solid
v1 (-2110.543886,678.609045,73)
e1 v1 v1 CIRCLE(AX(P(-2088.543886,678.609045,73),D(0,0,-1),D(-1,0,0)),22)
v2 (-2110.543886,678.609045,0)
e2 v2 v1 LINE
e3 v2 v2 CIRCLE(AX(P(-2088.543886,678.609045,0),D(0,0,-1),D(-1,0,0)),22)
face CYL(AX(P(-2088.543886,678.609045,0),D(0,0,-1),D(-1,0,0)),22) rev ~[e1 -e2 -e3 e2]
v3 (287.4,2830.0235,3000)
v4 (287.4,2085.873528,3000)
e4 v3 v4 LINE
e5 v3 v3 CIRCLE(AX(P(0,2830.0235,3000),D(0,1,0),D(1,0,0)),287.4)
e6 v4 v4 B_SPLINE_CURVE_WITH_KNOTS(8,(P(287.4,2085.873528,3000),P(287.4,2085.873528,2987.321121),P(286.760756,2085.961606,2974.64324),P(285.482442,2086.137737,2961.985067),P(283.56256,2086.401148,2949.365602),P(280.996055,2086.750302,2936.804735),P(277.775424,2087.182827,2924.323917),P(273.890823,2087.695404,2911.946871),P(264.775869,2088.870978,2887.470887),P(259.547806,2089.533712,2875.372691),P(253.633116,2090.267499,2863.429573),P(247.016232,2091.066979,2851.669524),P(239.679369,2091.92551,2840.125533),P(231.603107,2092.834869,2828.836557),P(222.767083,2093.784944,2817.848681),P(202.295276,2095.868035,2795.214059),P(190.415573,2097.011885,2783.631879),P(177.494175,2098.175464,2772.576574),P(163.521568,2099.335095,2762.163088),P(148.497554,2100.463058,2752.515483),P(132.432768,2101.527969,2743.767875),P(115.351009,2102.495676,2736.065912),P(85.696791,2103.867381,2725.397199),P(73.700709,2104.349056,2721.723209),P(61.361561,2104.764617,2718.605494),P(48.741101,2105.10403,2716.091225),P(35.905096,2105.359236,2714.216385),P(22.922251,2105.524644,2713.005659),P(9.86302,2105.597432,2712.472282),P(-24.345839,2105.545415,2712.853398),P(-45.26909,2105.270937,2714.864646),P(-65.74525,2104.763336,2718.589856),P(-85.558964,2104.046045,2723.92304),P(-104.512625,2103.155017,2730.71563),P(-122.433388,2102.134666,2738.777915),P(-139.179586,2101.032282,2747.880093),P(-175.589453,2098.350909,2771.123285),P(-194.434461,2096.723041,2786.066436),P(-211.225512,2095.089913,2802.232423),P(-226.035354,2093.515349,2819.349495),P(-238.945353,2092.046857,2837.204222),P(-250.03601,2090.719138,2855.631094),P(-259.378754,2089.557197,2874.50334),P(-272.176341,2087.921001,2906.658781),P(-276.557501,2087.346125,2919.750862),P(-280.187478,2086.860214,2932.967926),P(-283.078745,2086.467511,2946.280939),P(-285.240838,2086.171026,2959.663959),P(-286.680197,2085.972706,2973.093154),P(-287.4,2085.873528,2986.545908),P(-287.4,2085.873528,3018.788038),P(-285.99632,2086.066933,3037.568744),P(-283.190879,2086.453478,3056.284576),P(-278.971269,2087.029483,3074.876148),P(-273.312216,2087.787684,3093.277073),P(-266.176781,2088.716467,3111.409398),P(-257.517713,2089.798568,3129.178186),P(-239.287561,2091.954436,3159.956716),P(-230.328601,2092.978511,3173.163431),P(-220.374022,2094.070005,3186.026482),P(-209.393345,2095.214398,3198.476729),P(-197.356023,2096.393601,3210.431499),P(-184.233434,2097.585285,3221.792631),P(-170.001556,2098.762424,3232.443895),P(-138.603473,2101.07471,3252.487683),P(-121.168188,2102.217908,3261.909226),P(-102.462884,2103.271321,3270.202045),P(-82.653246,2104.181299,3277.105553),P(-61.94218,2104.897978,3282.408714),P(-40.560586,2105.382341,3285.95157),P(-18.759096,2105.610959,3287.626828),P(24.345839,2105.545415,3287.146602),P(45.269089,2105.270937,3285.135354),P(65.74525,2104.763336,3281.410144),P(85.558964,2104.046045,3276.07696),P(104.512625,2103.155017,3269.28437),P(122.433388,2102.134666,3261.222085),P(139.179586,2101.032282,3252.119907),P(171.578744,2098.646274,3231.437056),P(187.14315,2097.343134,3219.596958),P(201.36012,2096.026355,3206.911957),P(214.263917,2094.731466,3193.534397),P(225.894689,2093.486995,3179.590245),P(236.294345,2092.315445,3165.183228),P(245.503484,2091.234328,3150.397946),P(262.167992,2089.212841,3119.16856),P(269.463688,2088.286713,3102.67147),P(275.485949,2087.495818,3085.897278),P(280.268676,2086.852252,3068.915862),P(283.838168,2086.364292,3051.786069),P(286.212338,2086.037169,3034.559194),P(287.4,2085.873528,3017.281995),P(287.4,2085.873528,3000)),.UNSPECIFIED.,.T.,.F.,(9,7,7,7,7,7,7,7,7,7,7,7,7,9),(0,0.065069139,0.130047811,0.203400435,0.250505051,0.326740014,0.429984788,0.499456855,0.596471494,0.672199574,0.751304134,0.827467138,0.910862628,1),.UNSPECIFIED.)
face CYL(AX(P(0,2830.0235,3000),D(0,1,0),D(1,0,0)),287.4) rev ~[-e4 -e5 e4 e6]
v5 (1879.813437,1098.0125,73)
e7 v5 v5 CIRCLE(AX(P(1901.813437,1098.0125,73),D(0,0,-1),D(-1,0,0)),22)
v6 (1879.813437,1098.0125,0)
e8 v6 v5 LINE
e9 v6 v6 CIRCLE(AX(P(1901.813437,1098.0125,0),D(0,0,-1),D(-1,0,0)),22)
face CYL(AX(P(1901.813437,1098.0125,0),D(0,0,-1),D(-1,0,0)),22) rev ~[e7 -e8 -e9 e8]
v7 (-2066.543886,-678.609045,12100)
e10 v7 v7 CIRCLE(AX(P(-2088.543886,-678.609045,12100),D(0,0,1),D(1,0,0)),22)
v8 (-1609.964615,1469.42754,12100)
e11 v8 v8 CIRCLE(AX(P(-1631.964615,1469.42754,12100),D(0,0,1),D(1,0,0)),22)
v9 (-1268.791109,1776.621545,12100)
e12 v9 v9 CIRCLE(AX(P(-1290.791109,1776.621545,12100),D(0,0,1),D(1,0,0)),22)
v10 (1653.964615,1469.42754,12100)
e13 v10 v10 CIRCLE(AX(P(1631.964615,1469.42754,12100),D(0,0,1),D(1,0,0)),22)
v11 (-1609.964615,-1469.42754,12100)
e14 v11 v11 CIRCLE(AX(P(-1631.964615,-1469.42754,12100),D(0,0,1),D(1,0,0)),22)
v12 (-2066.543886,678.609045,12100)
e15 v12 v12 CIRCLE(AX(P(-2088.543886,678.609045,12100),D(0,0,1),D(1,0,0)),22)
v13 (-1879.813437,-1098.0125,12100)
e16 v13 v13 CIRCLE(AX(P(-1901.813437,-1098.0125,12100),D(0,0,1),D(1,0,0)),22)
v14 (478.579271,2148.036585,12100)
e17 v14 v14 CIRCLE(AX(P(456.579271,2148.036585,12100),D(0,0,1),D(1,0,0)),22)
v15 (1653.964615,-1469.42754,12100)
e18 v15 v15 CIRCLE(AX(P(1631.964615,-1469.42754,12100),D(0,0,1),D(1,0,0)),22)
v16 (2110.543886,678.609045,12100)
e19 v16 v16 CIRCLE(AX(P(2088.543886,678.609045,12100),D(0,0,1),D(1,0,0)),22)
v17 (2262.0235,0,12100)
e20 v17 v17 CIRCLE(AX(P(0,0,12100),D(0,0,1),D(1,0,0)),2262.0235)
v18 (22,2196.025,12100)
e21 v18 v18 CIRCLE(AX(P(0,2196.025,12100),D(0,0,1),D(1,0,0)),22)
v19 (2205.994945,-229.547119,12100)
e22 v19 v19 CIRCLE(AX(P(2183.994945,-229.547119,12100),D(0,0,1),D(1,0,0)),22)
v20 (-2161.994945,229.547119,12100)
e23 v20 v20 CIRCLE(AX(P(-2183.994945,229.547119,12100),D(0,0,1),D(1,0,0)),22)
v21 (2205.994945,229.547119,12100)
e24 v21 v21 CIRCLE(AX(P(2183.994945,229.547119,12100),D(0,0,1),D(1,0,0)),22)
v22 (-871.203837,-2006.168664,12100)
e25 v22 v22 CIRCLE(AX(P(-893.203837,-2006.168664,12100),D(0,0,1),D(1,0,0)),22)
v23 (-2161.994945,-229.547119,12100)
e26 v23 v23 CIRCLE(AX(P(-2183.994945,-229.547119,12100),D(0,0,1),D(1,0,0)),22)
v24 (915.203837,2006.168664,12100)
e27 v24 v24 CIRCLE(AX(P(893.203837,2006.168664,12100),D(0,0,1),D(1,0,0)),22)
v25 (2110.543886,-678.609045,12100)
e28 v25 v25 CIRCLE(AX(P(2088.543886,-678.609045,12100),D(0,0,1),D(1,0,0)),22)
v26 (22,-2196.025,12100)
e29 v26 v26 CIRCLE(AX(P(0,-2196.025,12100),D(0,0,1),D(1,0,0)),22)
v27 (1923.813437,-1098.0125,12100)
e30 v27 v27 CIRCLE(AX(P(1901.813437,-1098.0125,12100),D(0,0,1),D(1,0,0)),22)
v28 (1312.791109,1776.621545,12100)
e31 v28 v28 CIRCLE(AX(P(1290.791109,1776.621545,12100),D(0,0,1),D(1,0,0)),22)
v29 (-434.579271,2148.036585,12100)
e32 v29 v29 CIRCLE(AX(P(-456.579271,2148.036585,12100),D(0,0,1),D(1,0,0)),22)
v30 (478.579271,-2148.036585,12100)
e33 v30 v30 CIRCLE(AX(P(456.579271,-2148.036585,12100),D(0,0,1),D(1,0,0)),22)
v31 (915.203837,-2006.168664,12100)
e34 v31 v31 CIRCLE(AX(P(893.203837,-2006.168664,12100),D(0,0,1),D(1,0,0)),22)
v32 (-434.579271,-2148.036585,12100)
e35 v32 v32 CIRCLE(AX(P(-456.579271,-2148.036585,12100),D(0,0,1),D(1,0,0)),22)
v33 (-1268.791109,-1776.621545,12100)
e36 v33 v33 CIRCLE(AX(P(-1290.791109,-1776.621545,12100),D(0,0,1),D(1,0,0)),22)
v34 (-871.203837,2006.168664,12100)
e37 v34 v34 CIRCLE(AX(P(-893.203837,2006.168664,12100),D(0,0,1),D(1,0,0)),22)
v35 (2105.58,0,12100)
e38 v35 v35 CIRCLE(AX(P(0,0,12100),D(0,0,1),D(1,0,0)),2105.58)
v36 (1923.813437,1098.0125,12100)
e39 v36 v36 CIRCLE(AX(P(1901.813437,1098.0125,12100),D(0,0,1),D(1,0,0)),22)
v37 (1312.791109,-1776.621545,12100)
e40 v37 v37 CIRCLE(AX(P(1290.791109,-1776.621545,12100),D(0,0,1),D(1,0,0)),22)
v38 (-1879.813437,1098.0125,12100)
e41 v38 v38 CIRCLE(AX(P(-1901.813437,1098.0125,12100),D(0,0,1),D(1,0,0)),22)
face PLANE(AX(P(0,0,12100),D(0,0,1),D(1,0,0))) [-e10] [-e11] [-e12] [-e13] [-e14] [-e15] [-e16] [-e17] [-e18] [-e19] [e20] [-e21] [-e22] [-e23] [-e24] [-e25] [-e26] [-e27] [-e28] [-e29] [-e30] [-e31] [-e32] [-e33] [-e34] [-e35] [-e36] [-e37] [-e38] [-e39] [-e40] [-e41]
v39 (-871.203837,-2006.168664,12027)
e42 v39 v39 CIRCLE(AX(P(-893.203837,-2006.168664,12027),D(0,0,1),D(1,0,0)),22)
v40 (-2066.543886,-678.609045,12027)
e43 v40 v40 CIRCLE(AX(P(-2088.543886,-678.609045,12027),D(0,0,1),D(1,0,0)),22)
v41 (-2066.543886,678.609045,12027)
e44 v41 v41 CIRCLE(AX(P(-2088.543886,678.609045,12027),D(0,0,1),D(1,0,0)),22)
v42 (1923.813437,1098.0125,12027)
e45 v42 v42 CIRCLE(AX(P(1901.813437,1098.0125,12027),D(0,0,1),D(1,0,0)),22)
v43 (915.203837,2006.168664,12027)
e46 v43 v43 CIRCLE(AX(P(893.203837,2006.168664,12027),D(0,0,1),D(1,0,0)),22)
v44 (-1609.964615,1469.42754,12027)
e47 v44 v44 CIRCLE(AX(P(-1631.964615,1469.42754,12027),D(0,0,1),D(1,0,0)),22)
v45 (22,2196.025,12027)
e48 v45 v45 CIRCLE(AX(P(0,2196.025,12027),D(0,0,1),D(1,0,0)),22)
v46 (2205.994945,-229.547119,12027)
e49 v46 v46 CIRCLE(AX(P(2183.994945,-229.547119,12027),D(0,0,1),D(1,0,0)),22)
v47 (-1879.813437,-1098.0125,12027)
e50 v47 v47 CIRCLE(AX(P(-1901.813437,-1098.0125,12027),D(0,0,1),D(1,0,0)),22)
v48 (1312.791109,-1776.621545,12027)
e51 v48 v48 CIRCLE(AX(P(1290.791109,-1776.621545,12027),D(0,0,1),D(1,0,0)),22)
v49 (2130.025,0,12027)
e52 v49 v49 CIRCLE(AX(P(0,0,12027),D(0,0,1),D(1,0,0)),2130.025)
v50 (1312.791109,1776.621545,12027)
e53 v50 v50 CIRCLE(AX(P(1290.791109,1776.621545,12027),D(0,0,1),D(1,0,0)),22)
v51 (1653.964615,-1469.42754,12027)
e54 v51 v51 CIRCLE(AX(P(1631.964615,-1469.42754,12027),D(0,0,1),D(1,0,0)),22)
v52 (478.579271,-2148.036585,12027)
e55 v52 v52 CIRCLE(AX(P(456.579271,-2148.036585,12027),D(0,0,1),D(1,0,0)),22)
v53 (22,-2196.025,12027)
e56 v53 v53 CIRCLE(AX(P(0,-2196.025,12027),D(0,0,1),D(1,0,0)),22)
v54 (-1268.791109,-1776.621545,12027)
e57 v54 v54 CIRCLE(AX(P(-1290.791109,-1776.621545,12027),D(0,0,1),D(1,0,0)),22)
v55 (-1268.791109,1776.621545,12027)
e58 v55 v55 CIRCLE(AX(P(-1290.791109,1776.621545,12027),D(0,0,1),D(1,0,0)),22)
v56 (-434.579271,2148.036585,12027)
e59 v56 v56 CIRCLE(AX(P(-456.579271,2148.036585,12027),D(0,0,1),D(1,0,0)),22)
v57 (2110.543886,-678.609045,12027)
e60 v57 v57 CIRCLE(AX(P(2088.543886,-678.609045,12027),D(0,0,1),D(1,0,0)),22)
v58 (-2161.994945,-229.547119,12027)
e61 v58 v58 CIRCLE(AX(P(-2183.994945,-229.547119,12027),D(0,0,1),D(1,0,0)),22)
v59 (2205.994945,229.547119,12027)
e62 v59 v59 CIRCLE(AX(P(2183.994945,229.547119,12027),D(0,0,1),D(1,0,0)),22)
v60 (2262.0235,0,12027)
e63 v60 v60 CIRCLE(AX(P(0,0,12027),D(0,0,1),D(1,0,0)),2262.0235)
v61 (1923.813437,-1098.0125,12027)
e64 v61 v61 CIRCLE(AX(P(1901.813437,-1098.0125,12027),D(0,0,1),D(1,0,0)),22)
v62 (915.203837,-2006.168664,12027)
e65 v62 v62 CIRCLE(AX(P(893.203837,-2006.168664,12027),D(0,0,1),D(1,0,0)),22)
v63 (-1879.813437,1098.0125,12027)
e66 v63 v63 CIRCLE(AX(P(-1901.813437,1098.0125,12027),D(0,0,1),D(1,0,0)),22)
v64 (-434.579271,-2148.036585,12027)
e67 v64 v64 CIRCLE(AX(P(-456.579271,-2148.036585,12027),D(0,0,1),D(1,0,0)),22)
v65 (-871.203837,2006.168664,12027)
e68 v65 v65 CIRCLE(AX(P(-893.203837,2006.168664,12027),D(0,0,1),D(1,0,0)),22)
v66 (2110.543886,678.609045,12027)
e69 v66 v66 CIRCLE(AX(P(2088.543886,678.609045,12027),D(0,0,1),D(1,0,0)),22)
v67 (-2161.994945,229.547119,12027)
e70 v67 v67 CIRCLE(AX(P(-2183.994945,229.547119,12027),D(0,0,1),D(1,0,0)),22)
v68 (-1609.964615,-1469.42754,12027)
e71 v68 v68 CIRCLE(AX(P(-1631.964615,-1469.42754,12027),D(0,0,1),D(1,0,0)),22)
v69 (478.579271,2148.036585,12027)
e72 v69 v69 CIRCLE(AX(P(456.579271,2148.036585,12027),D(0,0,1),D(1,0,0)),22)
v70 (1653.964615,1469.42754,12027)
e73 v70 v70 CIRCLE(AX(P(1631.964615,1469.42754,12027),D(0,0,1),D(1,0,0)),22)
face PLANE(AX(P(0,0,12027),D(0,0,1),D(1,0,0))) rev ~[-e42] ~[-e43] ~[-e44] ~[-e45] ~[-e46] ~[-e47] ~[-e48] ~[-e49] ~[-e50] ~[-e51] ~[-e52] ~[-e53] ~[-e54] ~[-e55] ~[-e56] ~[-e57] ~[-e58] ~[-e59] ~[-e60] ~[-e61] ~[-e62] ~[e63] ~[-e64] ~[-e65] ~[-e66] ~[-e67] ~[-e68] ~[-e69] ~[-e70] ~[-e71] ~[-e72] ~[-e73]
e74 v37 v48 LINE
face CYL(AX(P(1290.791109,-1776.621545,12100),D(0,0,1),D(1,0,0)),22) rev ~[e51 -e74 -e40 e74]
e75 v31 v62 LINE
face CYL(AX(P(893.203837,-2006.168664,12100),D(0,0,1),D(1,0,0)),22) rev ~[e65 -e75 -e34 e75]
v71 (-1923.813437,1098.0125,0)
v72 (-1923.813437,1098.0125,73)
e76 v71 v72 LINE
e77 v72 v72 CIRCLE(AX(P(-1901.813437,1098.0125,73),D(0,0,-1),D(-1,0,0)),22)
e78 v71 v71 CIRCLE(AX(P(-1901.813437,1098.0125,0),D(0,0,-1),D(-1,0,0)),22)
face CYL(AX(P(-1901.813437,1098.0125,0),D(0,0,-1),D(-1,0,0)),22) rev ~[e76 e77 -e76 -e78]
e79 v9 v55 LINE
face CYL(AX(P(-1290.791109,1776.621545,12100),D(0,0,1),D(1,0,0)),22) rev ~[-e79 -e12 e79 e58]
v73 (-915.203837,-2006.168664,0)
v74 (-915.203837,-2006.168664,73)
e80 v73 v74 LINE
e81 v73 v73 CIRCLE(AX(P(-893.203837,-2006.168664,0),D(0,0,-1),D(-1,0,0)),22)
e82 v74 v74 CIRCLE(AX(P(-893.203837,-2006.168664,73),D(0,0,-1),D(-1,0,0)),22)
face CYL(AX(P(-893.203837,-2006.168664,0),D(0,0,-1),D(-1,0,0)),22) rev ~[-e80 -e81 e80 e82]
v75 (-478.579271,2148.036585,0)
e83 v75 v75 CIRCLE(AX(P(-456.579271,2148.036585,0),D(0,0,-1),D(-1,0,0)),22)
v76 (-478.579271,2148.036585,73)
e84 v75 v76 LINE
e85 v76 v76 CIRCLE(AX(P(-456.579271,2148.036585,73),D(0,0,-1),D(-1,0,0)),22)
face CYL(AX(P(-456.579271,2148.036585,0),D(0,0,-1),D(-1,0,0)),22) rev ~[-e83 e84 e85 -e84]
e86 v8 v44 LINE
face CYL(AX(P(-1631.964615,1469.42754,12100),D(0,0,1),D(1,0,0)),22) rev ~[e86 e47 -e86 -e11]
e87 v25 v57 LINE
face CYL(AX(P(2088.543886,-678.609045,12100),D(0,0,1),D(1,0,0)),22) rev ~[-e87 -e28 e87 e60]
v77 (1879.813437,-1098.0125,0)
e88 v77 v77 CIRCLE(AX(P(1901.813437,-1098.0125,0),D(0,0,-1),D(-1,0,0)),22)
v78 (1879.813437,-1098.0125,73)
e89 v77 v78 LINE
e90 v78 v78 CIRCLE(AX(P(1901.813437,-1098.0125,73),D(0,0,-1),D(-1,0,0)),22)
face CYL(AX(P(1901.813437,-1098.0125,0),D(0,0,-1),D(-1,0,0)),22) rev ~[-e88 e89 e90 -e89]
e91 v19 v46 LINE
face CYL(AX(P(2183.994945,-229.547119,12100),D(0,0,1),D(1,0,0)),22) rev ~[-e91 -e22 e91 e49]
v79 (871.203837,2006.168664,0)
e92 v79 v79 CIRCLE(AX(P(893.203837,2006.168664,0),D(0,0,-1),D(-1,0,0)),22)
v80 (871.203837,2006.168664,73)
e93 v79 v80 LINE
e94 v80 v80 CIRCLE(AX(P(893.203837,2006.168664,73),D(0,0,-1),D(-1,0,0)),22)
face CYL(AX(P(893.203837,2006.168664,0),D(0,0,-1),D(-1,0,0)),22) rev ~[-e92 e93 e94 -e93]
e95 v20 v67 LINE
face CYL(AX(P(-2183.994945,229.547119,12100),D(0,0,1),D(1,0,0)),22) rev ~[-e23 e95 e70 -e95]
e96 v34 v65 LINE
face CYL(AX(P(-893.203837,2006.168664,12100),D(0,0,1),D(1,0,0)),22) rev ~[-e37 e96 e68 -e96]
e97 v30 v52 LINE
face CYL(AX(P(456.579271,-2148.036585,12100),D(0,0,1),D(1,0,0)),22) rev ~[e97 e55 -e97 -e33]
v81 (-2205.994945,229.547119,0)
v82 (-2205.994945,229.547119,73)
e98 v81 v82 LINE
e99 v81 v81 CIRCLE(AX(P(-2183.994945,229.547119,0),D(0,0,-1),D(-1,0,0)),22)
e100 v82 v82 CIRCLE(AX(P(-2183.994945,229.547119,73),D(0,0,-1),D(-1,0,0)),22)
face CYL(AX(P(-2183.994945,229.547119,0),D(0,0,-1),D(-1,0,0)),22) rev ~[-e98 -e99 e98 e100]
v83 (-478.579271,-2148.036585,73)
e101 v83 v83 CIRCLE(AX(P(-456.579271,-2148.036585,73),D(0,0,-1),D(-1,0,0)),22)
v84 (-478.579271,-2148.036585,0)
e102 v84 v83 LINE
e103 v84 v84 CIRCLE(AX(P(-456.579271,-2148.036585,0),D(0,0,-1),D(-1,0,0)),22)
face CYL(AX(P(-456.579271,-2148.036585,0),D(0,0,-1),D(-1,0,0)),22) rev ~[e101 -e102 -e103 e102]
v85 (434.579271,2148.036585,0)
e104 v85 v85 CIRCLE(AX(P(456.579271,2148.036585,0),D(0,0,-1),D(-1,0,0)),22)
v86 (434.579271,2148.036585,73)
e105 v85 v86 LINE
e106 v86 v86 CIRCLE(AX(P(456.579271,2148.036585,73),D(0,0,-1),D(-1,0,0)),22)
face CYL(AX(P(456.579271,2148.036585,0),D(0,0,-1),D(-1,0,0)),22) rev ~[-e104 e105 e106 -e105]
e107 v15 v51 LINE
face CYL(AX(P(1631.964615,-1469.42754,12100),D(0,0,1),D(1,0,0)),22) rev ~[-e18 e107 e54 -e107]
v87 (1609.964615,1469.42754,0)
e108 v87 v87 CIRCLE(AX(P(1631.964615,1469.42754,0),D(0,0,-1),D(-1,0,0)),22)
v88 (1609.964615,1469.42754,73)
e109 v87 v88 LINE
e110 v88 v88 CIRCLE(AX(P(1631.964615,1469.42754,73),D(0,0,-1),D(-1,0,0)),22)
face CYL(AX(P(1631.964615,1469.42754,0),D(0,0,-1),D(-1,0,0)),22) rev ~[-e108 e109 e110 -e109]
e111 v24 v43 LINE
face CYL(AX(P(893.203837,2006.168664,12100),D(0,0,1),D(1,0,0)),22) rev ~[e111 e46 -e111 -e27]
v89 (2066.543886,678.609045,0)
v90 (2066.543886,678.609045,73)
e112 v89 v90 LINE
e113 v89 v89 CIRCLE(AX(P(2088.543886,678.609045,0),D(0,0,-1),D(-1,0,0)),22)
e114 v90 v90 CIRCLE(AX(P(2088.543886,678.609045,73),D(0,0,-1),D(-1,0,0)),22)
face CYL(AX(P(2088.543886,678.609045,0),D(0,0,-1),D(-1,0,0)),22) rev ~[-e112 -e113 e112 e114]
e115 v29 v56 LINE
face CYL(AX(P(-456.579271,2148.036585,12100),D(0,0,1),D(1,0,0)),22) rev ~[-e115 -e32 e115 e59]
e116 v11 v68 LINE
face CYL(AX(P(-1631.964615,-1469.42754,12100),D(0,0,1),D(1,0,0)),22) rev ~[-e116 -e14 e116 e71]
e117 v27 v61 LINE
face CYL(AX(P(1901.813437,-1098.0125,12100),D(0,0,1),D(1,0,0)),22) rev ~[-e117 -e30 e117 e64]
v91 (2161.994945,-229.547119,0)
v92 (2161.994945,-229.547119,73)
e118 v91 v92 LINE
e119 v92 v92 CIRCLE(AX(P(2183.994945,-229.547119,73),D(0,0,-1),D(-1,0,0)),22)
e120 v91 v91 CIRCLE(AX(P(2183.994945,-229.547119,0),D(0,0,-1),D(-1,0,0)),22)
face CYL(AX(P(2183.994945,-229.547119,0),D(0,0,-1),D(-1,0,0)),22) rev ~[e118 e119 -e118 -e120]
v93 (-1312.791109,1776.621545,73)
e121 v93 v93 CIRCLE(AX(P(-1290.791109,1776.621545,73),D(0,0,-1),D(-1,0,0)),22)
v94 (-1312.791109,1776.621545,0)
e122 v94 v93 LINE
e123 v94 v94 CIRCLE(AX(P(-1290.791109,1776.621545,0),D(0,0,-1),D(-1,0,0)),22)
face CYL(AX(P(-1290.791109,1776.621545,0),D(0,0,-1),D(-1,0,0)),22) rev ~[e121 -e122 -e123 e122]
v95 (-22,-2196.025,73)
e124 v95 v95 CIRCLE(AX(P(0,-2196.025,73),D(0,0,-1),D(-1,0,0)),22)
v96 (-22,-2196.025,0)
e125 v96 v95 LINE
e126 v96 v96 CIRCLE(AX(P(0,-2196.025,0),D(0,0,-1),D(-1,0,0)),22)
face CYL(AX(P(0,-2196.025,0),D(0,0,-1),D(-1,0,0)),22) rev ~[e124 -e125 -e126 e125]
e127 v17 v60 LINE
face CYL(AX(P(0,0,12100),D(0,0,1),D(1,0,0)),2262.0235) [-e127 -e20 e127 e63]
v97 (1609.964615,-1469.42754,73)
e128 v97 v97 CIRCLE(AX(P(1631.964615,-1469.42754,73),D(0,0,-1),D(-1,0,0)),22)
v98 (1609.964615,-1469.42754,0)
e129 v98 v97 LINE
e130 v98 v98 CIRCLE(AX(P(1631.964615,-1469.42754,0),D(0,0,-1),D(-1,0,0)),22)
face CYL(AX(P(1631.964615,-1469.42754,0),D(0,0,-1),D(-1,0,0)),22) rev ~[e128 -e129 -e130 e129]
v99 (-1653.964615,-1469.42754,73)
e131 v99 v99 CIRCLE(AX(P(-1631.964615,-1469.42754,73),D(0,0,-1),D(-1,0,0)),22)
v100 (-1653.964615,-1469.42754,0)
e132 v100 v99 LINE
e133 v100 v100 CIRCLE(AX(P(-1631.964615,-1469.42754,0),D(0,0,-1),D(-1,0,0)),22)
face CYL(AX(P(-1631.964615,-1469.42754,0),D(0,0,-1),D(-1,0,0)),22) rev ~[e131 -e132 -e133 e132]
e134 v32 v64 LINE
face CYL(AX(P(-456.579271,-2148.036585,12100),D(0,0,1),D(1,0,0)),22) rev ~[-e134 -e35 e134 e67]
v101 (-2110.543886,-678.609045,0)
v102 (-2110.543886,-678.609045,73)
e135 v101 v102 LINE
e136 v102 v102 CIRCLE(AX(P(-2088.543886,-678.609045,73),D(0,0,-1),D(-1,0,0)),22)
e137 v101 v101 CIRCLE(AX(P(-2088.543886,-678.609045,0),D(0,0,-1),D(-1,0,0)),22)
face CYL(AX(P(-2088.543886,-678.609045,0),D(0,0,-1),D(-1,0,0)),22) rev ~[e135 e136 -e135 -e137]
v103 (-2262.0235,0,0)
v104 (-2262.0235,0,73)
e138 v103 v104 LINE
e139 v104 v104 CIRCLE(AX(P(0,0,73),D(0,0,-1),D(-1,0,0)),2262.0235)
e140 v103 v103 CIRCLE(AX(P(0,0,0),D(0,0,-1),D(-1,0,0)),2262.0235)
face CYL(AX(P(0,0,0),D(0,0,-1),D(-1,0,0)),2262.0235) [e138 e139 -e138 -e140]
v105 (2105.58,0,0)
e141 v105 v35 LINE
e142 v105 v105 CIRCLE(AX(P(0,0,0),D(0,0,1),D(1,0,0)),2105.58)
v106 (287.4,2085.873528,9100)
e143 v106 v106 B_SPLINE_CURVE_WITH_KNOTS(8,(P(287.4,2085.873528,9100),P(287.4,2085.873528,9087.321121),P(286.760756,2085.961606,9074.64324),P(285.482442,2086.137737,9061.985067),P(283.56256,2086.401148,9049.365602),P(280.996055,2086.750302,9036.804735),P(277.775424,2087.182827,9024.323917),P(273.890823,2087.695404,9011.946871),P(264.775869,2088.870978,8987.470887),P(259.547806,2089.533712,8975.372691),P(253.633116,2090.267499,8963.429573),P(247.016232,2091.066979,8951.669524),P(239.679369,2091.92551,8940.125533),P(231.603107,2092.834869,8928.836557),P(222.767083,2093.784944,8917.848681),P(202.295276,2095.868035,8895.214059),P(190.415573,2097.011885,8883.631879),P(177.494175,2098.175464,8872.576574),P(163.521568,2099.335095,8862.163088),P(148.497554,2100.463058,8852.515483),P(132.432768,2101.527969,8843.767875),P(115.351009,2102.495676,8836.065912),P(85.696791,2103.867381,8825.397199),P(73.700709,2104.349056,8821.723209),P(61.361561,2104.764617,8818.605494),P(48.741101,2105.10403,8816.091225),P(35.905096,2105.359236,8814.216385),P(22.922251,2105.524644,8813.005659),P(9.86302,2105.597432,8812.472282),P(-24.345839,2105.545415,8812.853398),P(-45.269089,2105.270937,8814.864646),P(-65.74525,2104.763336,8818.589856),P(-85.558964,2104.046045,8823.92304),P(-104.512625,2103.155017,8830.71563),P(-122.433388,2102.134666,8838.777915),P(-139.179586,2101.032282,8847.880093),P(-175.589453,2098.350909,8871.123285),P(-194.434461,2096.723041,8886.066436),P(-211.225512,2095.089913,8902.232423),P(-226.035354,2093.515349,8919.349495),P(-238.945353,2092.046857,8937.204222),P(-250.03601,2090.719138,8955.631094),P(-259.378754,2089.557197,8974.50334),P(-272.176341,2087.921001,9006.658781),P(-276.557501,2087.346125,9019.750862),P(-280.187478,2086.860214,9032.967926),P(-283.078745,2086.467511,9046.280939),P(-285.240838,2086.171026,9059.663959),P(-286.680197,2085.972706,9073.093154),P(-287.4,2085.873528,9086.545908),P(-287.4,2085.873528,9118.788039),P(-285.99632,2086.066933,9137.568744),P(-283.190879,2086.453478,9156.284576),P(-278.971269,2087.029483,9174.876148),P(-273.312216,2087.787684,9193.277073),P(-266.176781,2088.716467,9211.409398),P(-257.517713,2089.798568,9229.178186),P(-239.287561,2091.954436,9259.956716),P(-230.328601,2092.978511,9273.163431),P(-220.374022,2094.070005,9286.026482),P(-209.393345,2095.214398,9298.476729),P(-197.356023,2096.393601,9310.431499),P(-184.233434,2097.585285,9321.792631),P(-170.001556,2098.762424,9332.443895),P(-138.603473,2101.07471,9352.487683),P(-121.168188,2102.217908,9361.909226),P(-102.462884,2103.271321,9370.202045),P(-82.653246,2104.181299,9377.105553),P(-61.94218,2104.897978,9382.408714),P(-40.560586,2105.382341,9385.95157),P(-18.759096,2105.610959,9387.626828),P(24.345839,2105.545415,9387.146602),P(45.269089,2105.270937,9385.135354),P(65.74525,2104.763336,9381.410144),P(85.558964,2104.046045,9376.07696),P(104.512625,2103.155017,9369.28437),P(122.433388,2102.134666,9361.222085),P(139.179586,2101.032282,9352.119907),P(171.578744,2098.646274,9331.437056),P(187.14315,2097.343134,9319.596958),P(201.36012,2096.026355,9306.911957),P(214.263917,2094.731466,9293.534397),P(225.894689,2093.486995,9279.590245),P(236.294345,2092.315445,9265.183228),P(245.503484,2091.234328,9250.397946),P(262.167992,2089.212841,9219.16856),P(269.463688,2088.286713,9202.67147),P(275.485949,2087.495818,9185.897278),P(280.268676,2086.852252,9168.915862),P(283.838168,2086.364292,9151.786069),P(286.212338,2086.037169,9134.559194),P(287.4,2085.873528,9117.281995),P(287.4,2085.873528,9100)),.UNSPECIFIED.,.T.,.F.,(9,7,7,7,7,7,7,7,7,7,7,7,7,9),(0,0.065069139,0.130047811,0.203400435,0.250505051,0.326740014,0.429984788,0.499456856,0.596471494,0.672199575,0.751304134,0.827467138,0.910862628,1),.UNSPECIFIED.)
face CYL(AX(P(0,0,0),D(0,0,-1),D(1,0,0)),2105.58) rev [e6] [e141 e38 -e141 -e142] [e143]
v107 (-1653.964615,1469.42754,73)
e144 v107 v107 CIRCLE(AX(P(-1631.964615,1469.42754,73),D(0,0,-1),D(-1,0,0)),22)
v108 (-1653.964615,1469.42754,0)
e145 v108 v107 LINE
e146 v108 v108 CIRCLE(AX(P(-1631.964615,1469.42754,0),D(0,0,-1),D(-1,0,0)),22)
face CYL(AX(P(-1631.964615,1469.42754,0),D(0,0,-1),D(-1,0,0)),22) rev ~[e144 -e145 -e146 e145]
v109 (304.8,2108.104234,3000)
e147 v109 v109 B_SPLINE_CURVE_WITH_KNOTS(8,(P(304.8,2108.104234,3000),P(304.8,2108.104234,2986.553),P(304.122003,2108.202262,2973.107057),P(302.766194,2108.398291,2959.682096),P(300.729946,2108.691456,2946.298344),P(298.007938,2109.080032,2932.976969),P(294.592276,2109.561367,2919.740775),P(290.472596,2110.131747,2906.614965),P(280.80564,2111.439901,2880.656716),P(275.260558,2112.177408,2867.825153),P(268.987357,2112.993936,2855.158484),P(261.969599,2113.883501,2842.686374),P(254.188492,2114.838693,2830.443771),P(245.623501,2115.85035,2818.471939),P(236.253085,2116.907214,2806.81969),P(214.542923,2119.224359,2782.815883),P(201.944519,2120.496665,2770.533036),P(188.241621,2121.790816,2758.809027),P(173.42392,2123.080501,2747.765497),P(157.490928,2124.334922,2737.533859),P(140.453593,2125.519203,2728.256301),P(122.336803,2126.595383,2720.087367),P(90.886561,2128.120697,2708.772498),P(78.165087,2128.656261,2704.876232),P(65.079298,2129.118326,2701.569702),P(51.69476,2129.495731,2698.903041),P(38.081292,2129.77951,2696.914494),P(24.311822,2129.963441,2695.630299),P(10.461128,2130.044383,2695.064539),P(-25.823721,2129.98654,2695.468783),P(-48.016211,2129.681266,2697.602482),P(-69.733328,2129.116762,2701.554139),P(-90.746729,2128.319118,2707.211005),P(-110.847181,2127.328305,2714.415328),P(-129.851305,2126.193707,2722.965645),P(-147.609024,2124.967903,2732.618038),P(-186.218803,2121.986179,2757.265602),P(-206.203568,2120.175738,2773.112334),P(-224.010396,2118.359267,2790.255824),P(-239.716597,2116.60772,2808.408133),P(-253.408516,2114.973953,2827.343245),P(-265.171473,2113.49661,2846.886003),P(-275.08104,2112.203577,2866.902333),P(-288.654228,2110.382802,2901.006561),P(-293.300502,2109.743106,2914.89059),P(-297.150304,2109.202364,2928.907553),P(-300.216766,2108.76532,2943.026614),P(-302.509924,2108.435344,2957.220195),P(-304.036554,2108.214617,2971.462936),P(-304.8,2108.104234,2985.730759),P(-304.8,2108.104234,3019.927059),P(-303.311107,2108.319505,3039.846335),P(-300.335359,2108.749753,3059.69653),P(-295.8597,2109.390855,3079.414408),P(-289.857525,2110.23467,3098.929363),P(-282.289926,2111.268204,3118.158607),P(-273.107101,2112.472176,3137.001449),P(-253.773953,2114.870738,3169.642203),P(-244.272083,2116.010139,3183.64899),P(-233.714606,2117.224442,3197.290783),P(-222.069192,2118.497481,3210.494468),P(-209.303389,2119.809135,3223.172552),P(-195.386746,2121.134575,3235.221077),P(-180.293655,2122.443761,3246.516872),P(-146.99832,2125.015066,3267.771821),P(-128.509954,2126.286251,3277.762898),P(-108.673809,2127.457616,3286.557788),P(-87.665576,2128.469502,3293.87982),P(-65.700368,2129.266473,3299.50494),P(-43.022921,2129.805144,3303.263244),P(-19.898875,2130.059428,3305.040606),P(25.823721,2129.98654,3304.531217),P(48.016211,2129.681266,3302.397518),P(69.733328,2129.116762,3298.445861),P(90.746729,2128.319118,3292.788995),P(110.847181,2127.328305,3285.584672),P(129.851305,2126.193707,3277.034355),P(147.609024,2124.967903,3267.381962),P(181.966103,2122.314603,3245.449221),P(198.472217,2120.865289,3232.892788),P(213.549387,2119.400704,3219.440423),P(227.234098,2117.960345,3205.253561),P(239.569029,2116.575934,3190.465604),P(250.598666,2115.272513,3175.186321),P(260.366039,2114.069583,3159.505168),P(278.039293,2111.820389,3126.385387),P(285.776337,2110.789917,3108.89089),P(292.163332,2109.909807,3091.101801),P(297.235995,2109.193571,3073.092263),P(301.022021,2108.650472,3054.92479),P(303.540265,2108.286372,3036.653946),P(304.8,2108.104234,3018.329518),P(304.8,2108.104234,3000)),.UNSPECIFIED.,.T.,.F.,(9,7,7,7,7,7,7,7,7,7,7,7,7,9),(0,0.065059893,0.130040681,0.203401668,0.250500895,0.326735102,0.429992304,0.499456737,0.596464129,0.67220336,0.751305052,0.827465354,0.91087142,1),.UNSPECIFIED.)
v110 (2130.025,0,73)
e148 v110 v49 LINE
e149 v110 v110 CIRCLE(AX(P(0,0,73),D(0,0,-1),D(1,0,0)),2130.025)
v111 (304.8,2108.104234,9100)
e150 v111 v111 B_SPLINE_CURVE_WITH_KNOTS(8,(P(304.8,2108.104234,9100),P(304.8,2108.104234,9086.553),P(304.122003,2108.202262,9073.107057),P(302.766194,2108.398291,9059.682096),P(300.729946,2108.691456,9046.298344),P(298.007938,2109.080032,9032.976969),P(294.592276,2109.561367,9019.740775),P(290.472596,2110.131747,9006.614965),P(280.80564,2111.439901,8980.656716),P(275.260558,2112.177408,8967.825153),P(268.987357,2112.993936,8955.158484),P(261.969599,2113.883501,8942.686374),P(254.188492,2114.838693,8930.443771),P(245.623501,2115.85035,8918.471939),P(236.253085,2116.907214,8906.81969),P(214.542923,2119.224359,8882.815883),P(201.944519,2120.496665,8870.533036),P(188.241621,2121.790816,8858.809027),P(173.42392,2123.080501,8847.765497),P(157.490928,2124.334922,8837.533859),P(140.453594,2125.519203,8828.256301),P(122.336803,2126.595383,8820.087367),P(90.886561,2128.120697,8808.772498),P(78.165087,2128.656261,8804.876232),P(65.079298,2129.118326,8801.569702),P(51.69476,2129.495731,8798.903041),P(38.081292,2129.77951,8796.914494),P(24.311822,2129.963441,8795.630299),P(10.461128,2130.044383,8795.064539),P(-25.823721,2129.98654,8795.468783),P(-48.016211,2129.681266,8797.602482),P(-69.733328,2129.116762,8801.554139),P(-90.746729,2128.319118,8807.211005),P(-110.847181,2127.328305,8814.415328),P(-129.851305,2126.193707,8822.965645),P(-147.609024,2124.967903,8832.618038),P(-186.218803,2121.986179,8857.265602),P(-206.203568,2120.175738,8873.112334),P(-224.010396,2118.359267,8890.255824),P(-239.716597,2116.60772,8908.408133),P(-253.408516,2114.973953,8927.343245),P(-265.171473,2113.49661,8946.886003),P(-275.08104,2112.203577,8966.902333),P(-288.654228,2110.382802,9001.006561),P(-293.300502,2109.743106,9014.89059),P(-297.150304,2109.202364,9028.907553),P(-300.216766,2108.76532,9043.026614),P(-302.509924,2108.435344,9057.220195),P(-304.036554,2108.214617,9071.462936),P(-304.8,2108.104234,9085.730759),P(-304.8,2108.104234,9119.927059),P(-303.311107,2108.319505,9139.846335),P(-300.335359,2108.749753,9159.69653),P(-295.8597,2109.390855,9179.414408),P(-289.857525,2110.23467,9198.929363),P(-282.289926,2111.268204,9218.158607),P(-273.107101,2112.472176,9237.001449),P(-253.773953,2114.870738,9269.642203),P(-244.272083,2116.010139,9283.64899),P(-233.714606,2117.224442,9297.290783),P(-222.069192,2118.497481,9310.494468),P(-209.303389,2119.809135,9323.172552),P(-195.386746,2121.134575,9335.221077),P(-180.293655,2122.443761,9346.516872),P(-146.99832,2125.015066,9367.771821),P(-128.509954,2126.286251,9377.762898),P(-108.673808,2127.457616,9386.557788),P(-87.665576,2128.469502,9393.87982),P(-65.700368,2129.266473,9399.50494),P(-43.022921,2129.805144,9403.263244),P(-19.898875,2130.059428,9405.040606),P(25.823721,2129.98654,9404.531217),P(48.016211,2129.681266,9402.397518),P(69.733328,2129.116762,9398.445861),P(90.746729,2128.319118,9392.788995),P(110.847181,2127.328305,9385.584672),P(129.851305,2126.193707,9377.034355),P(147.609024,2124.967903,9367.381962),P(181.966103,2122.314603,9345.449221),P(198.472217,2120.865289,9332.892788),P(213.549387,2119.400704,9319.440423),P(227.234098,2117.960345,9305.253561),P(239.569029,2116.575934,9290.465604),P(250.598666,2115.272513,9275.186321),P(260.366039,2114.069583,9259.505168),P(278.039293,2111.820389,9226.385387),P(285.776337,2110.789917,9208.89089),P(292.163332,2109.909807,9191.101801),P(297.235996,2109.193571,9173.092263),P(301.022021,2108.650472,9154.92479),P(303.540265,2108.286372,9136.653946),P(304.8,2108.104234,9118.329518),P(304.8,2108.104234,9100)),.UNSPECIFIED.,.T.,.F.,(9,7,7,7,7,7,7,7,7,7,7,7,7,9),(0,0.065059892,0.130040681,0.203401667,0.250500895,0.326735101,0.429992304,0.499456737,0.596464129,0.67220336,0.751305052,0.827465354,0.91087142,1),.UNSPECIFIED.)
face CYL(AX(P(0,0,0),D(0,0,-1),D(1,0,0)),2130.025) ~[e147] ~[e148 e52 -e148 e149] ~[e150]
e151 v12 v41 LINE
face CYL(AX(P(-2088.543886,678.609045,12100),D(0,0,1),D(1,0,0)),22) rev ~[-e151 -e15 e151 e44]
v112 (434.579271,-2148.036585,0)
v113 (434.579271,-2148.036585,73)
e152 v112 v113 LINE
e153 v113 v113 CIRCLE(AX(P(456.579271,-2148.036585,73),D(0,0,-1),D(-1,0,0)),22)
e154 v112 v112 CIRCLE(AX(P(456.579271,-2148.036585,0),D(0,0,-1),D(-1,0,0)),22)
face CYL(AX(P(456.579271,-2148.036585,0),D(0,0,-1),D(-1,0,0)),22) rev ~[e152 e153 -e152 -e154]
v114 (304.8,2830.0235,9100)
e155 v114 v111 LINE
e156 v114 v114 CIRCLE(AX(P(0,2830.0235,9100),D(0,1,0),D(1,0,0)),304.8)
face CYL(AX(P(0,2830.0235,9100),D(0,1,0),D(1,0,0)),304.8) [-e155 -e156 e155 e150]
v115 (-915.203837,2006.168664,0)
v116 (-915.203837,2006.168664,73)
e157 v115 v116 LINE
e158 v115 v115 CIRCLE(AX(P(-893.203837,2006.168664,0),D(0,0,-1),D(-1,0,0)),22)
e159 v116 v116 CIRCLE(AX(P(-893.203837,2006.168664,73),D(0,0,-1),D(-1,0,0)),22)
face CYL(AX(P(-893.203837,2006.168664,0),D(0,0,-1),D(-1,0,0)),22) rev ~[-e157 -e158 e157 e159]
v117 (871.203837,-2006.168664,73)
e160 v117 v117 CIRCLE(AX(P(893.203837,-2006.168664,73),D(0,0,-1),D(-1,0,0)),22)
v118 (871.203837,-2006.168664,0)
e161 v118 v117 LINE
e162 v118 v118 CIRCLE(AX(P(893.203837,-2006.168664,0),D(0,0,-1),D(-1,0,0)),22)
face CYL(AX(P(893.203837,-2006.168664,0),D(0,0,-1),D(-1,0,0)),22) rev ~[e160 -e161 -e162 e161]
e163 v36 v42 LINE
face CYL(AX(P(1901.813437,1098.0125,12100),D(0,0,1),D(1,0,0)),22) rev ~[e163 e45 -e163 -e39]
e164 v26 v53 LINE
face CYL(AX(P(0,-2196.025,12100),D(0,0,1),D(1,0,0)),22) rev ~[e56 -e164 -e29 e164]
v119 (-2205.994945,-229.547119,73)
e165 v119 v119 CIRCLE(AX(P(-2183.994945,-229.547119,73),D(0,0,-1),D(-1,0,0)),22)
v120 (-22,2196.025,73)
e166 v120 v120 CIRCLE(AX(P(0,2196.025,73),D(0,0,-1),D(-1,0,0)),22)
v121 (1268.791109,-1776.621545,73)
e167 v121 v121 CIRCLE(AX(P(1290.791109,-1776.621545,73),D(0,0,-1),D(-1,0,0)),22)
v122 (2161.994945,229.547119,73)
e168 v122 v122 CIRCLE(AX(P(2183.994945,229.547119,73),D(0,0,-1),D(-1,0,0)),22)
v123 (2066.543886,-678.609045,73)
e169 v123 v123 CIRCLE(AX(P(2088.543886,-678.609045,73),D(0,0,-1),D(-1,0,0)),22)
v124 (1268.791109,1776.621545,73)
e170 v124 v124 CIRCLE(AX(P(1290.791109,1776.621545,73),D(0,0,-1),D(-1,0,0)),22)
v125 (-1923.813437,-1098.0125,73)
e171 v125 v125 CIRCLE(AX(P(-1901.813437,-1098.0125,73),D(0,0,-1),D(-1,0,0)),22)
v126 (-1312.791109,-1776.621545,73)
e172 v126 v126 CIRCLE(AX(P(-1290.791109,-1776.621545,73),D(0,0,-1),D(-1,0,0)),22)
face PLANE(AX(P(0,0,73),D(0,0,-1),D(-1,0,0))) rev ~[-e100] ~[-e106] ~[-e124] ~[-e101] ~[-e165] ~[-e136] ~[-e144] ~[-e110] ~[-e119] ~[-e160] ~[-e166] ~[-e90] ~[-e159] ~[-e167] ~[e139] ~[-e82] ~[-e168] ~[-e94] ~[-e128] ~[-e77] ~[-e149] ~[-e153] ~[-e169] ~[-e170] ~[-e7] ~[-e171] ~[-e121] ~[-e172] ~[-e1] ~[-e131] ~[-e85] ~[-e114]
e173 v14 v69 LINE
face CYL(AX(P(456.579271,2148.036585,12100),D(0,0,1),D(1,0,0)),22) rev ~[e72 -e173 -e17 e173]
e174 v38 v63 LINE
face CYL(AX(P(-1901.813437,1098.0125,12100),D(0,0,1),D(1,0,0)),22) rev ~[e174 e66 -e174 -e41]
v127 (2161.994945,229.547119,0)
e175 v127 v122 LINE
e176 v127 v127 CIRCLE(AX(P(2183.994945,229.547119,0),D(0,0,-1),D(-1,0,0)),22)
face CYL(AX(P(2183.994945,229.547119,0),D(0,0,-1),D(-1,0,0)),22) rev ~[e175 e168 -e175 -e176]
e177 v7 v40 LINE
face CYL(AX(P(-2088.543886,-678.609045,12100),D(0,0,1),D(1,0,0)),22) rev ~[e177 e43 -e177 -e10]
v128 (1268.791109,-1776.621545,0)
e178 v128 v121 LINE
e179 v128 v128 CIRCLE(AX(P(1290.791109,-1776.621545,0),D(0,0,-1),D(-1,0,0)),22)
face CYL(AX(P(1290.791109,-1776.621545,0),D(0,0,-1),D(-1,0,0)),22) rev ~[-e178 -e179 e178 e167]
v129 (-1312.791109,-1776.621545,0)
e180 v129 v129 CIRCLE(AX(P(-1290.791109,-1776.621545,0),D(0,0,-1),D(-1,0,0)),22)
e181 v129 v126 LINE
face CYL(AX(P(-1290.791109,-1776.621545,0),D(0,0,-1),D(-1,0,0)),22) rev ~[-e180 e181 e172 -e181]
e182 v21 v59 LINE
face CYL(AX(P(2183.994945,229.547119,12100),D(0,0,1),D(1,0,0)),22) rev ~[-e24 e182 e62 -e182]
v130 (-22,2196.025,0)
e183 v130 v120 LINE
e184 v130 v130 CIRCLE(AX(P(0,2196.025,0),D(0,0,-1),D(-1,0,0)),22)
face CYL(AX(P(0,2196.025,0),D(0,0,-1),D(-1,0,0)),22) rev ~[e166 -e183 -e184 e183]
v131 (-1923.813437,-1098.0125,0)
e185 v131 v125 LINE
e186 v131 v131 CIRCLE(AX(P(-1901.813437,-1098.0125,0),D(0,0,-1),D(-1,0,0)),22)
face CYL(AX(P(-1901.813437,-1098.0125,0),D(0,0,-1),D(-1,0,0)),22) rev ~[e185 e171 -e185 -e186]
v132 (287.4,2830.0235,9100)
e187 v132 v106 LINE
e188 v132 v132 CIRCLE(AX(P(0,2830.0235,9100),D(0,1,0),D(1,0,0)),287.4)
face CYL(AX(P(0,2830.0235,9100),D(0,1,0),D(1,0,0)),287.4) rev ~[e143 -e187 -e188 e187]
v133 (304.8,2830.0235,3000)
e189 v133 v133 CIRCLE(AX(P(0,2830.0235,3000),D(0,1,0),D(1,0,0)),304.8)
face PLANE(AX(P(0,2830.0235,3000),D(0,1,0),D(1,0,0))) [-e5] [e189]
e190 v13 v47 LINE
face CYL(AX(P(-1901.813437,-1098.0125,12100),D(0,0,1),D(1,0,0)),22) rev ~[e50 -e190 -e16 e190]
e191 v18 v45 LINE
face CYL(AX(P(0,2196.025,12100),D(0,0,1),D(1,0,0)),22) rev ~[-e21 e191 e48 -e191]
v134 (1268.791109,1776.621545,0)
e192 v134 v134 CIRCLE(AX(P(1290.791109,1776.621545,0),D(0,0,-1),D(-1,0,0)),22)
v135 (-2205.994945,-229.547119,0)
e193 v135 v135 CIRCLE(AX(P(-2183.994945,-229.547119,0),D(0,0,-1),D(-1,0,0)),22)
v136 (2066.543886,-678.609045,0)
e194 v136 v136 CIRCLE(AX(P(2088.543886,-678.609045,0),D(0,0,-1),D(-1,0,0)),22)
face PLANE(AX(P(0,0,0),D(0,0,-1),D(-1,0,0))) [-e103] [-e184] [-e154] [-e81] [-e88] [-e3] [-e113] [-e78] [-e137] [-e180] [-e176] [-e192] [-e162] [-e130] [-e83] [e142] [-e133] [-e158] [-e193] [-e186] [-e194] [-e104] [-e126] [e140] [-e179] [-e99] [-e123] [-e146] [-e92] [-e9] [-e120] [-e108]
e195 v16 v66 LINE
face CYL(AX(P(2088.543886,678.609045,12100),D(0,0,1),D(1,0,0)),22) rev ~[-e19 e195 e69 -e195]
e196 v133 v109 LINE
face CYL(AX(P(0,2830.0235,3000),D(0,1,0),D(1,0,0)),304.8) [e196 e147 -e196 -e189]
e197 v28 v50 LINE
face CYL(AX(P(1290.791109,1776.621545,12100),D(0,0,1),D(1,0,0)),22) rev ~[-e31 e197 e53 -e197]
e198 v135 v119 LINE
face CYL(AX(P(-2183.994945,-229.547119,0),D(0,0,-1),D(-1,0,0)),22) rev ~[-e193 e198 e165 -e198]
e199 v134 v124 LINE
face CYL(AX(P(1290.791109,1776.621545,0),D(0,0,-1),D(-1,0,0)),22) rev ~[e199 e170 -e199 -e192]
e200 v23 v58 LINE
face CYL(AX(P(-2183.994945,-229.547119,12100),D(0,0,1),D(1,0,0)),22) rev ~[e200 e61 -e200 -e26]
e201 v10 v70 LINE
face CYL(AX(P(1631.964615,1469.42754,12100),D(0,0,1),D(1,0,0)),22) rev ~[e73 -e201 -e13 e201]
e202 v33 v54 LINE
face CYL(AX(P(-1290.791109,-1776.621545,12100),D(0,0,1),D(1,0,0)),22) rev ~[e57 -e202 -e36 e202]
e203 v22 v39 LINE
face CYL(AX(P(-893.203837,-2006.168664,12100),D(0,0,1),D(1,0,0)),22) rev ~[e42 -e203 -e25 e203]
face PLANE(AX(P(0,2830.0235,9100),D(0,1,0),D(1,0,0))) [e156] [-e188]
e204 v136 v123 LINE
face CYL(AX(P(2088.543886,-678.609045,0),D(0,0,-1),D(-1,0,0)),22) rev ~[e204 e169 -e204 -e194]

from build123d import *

# Parameters (mm, degrees)
SKETCH1_R           = 2130.025
SKETCH1_R_2         = 2105.58
BOSS_EXTRUDE1_DEPTH = 12100
BOSS_EXTRUDE2_REACH = 4962.049
SKETCH2_R           = 304.8
SKETCH3_R           = 287.4
CUT_EXTRUDE1_DEPTH  = 1000
SKETCH4_R           = 2262.0235
SKETCH4_R_2         = 2130.025
BOSS_EXTRUDE3_DEPTH = 73
SKETCH5_R           = 22
CUT_EXTRUDE2_DEPTH  = 73
SKETCH6_R           = 2262.0235
SKETCH6_R_2         = 2130.025
BOSS_EXTRUDE4_DEPTH = 73
SKETCH7_R           = 22
CUT_EXTRUDE3_DEPTH  = 73


with BuildPart() as part:
    # Sketch1 → Boss-Extrude1 (new body)
    with BuildSketch(Plane.XY):
        Circle(SKETCH1_R)
        Circle(SKETCH1_R_2, mode=Mode.SUBTRACT)
    extrude(amount=BOSS_EXTRUDE1_DEPTH)

    # Sketch2 → Boss-Extrude2 (add, up to next)
    with BuildSketch(Plane(origin=(0, 2830.0235, 0), x_dir=(1, 0, 0), z_dir=(0, 1, 0)), mode=Mode.PRIVATE) as boss_extrude2_sk1:
        with Locations((0, -3000)):
            Circle(SKETCH2_R)
    boss_extrude2_tool1 = extrude(boss_extrude2_sk1.sketch, amount=-BOSS_EXTRUDE2_REACH, mode=Mode.PRIVATE) - part.part
    add(boss_extrude2_tool1.solids().sort_by_distance((0, 2830.0235, 3000))[0])
    # Sketch2 → Boss-Extrude2 (add, up to next)
    with BuildSketch(Plane(origin=(0, 2830.0235, 0), x_dir=(1, 0, 0), z_dir=(0, 1, 0)), mode=Mode.PRIVATE) as boss_extrude2_sk2:
        with Locations((0, -9100)):
            Circle(SKETCH2_R)
    boss_extrude2_tool2 = extrude(boss_extrude2_sk2.sketch, amount=-BOSS_EXTRUDE2_REACH, mode=Mode.PRIVATE) - part.part
    add(boss_extrude2_tool2.solids().sort_by_distance((0, 2830.0235, 9100))[0])

    # Sketch3 → Cut-Extrude1 (cut)
    with BuildSketch(Plane(origin=(0, 2830.0235, 0), x_dir=(1, 0, 0), z_dir=(0, 1, 0))):
        with Locations((0, -9100)):
            Circle(SKETCH3_R)
        with Locations((0, -3000)):
            Circle(SKETCH3_R)
    extrude(amount=-CUT_EXTRUDE1_DEPTH, mode=Mode.SUBTRACT)

    # Sketch4 → Boss-Extrude3 (add)
    with BuildSketch(Plane.XY.offset(12100)):
        Circle(SKETCH4_R)
        Circle(SKETCH4_R_2, mode=Mode.SUBTRACT)
    extrude(amount=-BOSS_EXTRUDE3_DEPTH)

    # Sketch5 → Cut-Extrude2 (cut)
    with BuildSketch(Plane.XY.offset(12100)):
        with Locations((0, 2196.025)):
            Circle(SKETCH5_R)
        with Locations((456.579270828, 2148.036584901)):
            Circle(SKETCH5_R)
        with Locations((893.203836611, 2006.16866362)):
            Circle(SKETCH5_R)
        with Locations((1290.791108666, 1776.621545072)):
            Circle(SKETCH5_R)
        with Locations((1631.964615369, 1469.427539829)):
            Circle(SKETCH5_R)
        with Locations((1901.813437346, 1098.0125)):
            Circle(SKETCH5_R)
        with Locations((2088.543886197, 678.609045072)):
            Circle(SKETCH5_R)
        with Locations((2183.994945276, 229.547118548)):
            Circle(SKETCH5_R)
        with Locations((2183.994945276, -229.547118547)):
            Circle(SKETCH5_R)
        with Locations((2088.543886197, -678.609045072)):
            Circle(SKETCH5_R)
        with Locations((1901.813437346, -1098.0125)):
            Circle(SKETCH5_R)
        with Locations((1631.964615369, -1469.427539829)):
            Circle(SKETCH5_R)
        with Locations((1290.791108666, -1776.621545072)):
            Circle(SKETCH5_R)
        with Locations((893.203836611, -2006.16866362)):
            Circle(SKETCH5_R)
        with Locations((456.579270828, -2148.036584901)):
            Circle(SKETCH5_R)
        with Locations((0, -2196.025)):
            Circle(SKETCH5_R)
        with Locations((-456.579270828, -2148.036584901)):
            Circle(SKETCH5_R)
        with Locations((-893.20383661, -2006.16866362)):
            Circle(SKETCH5_R)
        with Locations((-1290.791108665, -1776.621545072)):
            Circle(SKETCH5_R)
        with Locations((-1631.964615369, -1469.427539829)):
            Circle(SKETCH5_R)
        with Locations((-1901.813437345, -1098.0125)):
            Circle(SKETCH5_R)
        with Locations((-2088.543886197, -678.609045072)):
            Circle(SKETCH5_R)
        with Locations((-2183.994945276, -229.547118548)):
            Circle(SKETCH5_R)
        with Locations((-2183.994945276, 229.547118547)):
            Circle(SKETCH5_R)
        with Locations((-2088.543886197, 678.609045072)):
            Circle(SKETCH5_R)
        with Locations((-1901.813437346, 1098.0125)):
            Circle(SKETCH5_R)
        with Locations((-1631.964615369, 1469.427539829)):
            Circle(SKETCH5_R)
        with Locations((-1290.791108666, 1776.621545072)):
            Circle(SKETCH5_R)
        with Locations((-893.203836611, 2006.16866362)):
            Circle(SKETCH5_R)
        with Locations((-456.579270828, 2148.036584901)):
            Circle(SKETCH5_R)
    extrude(amount=-CUT_EXTRUDE2_DEPTH, mode=Mode.SUBTRACT)

    # Sketch6 → Boss-Extrude4 (add)
    with BuildSketch(Plane(origin=(0, 0, 0), x_dir=(-1, 0, 0), z_dir=(0, 0, -1))):
        Circle(SKETCH6_R)
        Circle(SKETCH6_R_2, mode=Mode.SUBTRACT)
    extrude(amount=-BOSS_EXTRUDE4_DEPTH)

    # Sketch7 → Cut-Extrude3 (cut)
    with BuildSketch(Plane(origin=(0, 0, 0), x_dir=(-1, 0, 0), z_dir=(0, 0, -1))):
        with Locations((-1631.964615369, 1469.427539829)):
            Circle(SKETCH7_R)
        with Locations((-1290.791108666, 1776.621545072)):
            Circle(SKETCH7_R)
        with Locations((-893.203836611, 2006.16866362)):
            Circle(SKETCH7_R)
        with Locations((-456.579270828, 2148.036584901)):
            Circle(SKETCH7_R)
        with Locations((0, 2196.025)):
            Circle(SKETCH7_R)
        with Locations((-1290.791108666, -1776.621545072)):
            Circle(SKETCH7_R)
        with Locations((-1631.964615369, -1469.427539829)):
            Circle(SKETCH7_R)
        with Locations((-1901.813437346, -1098.0125)):
            Circle(SKETCH7_R)
        with Locations((-2088.543886197, -678.609045072)):
            Circle(SKETCH7_R)
        with Locations((-2183.994945276, -229.547118547)):
            Circle(SKETCH7_R)
        with Locations((-2183.994945276, 229.547118548)):
            Circle(SKETCH7_R)
        with Locations((-2088.543886197, 678.609045072)):
            Circle(SKETCH7_R)
        with Locations((-1901.813437346, 1098.0125)):
            Circle(SKETCH7_R)
        with Locations((1901.813437345, -1098.0125)):
            Circle(SKETCH7_R)
        with Locations((1631.964615369, -1469.427539829)):
            Circle(SKETCH7_R)
        with Locations((1290.791108665, -1776.621545072)):
            Circle(SKETCH7_R)
        with Locations((893.20383661, -2006.16866362)):
            Circle(SKETCH7_R)
        with Locations((456.579270828, -2148.036584901)):
            Circle(SKETCH7_R)
        with Locations((0, -2196.025)):
            Circle(SKETCH7_R)
        with Locations((-456.579270828, -2148.036584901)):
            Circle(SKETCH7_R)
        with Locations((-893.203836611, -2006.16866362)):
            Circle(SKETCH7_R)
        with Locations((893.203836611, 2006.16866362)):
            Circle(SKETCH7_R)
        with Locations((1290.791108666, 1776.621545072)):
            Circle(SKETCH7_R)
        with Locations((1631.964615369, 1469.427539829)):
            Circle(SKETCH7_R)
        with Locations((1901.813437346, 1098.0125)):
            Circle(SKETCH7_R)
        with Locations((2088.543886197, 678.609045072)):
            Circle(SKETCH7_R)
        with Locations((2183.994945276, 229.547118547)):
            Circle(SKETCH7_R)
        with Locations((2183.994945276, -229.547118548)):
            Circle(SKETCH7_R)
        with Locations((2088.543886197, -678.609045072)):
            Circle(SKETCH7_R)
        with Locations((456.579270828, 2148.036584901)):
            Circle(SKETCH7_R)
    extrude(amount=-CUT_EXTRUDE3_DEPTH, mode=Mode.SUBTRACT)


solid = part.part
